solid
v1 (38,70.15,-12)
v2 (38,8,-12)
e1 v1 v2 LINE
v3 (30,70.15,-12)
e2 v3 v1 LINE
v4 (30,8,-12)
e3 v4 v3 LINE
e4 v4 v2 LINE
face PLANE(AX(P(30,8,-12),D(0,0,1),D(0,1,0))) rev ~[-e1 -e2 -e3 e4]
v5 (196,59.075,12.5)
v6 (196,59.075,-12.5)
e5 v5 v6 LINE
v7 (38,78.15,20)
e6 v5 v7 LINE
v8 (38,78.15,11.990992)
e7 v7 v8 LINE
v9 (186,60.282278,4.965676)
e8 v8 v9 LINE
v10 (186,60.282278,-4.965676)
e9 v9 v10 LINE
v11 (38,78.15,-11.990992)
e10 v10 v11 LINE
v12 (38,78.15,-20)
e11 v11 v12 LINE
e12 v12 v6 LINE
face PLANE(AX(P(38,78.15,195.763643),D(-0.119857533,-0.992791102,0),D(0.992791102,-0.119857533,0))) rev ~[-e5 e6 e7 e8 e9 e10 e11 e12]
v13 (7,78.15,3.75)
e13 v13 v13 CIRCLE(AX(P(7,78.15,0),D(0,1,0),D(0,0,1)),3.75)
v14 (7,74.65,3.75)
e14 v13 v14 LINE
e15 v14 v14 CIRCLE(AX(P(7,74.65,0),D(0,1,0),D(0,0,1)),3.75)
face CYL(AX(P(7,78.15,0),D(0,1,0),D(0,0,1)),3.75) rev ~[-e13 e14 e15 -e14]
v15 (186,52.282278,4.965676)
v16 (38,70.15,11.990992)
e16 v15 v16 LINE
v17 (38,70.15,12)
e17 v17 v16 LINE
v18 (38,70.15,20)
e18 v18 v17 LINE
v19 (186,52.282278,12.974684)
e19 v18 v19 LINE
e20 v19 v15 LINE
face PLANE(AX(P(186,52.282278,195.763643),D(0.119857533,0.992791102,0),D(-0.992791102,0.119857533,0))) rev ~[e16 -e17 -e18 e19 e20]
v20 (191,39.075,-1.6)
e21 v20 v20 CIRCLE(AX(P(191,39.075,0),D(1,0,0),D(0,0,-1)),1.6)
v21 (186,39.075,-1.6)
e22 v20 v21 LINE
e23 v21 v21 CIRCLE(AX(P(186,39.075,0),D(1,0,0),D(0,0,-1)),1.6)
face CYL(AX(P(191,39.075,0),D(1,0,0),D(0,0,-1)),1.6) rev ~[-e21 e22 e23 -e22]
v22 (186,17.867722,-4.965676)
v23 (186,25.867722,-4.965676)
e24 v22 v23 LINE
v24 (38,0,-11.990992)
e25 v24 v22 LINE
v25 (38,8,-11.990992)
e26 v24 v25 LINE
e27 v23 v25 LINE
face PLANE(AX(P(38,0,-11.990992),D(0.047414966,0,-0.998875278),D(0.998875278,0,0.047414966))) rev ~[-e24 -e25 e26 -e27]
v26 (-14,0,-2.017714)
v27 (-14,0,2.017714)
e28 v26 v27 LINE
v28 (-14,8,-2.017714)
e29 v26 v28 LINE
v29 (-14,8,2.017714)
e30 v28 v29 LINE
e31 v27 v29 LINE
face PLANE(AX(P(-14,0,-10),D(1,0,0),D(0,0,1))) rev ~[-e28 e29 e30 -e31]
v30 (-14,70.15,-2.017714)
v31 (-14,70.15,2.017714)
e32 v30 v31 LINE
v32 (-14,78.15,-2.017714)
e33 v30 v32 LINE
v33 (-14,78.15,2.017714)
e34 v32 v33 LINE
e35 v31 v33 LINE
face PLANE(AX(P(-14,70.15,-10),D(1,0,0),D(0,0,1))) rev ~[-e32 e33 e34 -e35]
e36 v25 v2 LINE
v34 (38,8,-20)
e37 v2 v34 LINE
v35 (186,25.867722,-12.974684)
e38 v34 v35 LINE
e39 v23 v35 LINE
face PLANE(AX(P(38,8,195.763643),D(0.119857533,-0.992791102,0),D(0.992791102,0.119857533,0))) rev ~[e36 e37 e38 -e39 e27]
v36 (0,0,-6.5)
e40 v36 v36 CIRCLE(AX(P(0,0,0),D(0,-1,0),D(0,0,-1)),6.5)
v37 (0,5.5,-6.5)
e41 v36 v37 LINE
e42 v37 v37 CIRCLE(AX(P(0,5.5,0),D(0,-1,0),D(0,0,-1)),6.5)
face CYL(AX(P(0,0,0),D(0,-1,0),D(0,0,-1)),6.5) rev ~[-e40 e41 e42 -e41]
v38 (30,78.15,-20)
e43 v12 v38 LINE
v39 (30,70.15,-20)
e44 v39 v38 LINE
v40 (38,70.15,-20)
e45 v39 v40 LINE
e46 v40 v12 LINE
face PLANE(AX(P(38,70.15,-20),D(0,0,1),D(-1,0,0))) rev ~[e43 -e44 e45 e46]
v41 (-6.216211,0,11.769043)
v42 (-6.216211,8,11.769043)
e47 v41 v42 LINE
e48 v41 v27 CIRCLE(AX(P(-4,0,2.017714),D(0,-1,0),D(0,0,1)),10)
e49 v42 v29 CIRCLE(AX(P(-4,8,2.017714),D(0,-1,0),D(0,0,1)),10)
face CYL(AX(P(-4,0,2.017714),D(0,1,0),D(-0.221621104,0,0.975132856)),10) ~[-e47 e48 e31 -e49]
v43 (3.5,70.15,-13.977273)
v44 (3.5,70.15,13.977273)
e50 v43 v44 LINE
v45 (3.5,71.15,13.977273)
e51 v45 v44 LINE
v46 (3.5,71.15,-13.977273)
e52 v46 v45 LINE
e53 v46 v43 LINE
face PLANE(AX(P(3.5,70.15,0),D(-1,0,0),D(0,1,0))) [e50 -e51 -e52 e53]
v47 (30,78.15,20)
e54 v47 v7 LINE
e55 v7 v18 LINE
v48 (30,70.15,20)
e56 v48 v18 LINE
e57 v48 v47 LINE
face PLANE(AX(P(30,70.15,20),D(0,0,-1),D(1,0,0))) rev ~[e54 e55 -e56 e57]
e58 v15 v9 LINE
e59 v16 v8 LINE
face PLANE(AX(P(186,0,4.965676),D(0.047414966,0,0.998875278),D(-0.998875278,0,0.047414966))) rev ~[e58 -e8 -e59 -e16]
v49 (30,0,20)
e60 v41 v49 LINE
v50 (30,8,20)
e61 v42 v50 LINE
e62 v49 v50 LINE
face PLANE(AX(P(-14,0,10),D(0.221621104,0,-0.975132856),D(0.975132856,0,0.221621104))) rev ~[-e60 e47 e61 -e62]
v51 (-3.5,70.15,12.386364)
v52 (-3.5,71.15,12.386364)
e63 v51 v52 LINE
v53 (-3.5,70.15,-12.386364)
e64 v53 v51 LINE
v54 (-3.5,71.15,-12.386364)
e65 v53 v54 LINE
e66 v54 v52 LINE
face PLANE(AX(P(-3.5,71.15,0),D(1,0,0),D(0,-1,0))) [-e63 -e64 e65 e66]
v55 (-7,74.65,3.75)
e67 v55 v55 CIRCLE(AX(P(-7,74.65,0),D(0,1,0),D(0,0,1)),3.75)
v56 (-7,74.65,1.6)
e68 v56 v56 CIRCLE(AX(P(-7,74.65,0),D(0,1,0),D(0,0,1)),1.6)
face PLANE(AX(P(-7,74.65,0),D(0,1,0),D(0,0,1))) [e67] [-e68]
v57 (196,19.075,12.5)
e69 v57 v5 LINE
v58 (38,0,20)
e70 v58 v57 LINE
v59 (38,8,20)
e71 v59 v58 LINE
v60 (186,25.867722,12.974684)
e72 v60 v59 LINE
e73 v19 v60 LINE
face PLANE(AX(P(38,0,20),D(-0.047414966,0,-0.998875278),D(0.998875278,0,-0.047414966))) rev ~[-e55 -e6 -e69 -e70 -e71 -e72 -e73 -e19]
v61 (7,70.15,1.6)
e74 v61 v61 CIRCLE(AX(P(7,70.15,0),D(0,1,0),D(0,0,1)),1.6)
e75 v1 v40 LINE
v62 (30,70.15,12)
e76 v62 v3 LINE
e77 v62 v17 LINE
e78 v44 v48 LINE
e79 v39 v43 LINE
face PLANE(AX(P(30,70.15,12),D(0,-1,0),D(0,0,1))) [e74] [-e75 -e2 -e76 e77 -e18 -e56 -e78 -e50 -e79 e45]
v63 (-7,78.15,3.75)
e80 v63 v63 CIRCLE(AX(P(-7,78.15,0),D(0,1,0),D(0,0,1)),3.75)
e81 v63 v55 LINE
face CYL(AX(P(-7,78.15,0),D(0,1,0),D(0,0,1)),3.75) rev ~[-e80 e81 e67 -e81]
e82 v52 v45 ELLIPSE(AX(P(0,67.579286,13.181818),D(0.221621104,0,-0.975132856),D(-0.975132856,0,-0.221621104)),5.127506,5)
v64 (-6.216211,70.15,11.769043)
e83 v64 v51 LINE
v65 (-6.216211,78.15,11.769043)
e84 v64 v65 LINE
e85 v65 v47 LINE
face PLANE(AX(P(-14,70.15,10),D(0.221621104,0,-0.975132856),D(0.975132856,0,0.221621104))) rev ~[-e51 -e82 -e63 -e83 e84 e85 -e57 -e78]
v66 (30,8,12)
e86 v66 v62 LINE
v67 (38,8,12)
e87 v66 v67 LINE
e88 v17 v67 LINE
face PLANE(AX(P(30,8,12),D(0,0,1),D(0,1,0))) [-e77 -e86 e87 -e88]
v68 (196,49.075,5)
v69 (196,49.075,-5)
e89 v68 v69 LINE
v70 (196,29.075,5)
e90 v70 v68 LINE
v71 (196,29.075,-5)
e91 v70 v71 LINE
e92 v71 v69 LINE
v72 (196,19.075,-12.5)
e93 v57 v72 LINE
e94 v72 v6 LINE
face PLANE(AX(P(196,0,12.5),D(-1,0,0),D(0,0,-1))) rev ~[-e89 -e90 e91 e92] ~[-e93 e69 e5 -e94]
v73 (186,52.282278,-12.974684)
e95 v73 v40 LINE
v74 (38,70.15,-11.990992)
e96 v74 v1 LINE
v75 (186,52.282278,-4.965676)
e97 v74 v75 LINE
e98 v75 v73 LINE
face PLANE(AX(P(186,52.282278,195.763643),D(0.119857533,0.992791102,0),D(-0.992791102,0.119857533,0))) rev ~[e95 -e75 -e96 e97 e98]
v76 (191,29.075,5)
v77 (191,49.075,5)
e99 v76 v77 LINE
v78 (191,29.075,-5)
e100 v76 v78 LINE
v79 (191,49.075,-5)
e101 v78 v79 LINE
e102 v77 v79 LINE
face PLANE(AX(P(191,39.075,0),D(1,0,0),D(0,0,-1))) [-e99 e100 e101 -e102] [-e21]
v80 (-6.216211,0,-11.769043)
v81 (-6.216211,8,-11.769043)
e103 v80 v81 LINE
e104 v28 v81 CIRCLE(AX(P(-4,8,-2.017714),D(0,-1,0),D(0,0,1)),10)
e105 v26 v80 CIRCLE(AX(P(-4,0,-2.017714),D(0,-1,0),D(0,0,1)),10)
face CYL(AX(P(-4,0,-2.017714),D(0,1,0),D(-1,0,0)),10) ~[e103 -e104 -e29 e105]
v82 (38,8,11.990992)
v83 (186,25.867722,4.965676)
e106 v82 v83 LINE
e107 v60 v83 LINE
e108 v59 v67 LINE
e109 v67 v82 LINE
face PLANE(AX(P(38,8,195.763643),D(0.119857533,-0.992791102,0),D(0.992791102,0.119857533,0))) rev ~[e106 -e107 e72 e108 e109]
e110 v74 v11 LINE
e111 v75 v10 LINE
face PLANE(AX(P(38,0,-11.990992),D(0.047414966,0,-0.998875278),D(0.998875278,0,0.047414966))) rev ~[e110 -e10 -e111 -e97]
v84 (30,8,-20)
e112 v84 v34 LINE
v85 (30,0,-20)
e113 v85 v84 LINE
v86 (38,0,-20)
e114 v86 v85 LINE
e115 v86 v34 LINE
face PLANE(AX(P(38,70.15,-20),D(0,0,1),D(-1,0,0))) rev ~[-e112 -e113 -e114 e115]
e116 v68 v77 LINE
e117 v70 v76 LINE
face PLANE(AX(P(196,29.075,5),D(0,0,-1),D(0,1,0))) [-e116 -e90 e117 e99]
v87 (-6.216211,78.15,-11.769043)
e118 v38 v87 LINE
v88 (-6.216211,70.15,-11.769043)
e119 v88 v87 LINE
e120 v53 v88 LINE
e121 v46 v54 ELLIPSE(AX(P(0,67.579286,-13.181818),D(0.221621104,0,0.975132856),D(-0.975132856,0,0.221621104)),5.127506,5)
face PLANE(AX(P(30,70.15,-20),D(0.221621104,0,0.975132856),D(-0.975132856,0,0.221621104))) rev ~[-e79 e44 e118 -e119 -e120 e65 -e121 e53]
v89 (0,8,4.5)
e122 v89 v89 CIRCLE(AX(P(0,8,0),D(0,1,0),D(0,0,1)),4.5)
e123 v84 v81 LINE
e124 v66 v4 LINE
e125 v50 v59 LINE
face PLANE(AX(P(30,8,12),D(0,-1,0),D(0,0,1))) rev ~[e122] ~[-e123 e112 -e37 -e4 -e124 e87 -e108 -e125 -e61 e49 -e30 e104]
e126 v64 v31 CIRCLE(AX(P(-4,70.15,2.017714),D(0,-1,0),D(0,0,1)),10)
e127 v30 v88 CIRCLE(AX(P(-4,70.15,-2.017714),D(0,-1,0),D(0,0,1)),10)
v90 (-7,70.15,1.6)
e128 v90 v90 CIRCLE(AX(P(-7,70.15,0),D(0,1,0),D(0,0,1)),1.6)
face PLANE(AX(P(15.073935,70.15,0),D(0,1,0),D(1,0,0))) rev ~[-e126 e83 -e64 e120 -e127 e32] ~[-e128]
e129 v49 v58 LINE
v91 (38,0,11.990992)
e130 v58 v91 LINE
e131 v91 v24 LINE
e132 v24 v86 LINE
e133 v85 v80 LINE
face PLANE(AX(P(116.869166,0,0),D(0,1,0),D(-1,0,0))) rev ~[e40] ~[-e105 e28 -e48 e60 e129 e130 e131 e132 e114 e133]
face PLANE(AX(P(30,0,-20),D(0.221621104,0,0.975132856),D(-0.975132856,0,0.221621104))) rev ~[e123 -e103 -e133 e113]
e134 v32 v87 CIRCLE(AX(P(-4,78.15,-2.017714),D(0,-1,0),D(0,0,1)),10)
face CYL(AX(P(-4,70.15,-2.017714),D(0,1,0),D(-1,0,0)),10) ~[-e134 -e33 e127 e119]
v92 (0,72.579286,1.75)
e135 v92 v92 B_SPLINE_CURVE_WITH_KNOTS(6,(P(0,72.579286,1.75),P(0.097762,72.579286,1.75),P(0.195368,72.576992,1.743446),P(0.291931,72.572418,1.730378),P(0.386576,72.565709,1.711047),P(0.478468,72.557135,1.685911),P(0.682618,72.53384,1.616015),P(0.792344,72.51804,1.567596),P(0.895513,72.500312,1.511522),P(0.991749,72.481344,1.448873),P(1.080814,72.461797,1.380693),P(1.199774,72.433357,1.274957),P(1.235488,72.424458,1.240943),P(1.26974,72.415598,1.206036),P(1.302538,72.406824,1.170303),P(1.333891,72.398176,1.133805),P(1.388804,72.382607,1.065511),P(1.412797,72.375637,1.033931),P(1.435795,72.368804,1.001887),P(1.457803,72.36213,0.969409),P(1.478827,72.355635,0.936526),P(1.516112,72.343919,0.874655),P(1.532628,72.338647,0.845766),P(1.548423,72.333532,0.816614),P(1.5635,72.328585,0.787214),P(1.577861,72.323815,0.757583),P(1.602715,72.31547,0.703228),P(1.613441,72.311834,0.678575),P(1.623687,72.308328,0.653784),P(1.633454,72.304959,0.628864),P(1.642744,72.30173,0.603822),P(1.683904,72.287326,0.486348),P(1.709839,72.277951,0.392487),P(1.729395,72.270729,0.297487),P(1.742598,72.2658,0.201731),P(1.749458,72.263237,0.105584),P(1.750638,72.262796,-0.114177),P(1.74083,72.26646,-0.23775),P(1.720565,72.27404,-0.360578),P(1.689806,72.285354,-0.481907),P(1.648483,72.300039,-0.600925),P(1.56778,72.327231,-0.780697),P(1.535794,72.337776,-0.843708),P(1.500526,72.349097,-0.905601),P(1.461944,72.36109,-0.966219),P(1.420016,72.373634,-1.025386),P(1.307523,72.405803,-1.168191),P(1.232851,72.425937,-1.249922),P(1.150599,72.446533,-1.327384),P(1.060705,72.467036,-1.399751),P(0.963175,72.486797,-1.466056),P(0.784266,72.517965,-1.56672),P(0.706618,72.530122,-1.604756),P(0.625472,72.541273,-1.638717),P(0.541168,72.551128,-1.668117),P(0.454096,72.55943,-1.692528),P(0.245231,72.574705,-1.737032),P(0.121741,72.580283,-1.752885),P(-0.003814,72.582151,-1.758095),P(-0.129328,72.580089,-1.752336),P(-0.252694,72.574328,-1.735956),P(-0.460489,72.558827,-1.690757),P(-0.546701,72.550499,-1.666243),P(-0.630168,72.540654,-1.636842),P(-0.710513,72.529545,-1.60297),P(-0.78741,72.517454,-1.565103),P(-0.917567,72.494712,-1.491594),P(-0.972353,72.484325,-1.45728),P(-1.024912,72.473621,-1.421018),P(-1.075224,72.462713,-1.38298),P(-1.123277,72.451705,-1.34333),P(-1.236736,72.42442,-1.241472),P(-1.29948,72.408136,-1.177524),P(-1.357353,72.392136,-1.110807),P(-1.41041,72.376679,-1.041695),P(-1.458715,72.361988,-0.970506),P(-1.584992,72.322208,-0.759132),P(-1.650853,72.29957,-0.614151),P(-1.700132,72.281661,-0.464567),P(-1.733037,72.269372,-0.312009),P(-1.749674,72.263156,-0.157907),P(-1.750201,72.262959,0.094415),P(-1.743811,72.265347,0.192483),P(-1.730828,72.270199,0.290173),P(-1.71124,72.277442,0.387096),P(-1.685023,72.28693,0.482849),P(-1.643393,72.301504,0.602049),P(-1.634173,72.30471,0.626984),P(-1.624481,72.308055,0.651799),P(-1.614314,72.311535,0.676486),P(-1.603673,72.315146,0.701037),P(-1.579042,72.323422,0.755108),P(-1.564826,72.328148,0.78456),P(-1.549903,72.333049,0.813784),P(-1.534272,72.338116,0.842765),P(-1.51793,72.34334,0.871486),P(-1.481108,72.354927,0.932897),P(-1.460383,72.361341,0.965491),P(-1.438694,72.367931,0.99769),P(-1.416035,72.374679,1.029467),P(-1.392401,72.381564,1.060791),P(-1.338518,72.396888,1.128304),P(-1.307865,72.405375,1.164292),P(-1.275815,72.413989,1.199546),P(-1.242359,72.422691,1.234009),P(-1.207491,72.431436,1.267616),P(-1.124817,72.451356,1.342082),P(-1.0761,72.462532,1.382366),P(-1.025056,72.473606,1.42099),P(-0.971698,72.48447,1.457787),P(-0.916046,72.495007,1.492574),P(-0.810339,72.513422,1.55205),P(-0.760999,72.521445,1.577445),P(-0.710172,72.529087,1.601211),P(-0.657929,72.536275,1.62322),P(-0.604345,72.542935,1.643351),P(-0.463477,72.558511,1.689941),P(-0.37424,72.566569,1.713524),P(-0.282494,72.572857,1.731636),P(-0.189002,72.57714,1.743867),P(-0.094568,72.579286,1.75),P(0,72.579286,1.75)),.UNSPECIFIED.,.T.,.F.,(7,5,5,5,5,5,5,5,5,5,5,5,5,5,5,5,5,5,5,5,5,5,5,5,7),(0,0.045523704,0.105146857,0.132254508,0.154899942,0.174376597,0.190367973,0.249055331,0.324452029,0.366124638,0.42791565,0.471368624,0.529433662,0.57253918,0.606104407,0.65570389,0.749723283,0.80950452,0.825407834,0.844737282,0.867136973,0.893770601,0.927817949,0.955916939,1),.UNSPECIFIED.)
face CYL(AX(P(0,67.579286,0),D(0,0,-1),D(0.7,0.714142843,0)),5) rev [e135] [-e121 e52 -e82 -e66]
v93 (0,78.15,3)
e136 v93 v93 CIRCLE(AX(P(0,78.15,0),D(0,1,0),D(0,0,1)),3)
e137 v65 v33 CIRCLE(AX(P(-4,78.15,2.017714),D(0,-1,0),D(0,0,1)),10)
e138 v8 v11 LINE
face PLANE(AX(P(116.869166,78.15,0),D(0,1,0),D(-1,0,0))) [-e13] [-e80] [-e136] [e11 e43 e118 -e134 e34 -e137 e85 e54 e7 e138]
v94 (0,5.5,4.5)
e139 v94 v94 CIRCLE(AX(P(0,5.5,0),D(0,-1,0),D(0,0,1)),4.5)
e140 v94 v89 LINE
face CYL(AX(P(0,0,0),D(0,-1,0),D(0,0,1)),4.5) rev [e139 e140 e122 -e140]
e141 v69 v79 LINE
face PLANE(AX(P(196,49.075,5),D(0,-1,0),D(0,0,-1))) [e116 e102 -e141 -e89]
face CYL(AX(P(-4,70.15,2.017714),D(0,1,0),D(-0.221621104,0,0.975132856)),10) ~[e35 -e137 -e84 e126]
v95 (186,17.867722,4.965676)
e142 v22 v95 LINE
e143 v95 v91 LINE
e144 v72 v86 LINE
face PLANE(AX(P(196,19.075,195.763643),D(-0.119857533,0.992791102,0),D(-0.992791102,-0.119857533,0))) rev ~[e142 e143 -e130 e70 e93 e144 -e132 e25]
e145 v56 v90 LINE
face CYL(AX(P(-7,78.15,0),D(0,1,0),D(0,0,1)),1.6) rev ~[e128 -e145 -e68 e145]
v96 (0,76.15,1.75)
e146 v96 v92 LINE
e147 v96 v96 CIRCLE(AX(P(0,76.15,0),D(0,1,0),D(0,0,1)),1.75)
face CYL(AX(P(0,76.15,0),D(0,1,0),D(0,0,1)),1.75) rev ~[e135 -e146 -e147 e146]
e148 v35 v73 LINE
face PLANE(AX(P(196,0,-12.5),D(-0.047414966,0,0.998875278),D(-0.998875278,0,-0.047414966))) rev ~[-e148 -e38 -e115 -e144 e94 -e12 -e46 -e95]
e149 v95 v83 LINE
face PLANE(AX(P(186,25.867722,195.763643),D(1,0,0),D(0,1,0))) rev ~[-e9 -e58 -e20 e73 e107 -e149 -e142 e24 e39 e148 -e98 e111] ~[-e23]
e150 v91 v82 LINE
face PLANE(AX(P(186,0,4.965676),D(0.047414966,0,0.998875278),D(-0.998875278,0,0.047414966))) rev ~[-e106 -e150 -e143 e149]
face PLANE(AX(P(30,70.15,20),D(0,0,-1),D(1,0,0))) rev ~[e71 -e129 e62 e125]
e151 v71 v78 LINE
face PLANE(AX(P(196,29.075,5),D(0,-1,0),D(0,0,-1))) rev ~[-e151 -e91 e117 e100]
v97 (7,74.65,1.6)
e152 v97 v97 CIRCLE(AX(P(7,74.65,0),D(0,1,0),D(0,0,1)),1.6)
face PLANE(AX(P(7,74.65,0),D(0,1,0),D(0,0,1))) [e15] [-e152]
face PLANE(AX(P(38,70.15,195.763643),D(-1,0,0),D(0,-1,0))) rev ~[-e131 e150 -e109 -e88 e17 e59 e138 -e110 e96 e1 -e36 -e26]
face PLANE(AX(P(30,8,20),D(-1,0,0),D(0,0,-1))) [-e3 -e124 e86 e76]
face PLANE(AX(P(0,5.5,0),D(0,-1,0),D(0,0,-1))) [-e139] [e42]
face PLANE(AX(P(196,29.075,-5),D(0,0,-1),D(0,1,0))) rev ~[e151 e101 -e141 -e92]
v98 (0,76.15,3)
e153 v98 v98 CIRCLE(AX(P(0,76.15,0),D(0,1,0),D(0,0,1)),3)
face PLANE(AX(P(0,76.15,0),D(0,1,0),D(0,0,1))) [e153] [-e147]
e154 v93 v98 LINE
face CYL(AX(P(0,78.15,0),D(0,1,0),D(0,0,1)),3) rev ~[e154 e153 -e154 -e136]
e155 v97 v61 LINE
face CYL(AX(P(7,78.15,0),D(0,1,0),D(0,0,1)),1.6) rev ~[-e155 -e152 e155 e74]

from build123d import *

# Parameters (mm, degrees)
SZKIC1_R                               = 4.5
DODANIE_WYCI_GNI_CIE1_DEPTH            = 8
SZKIC23_R                              = 6.5
WYTNIJ_WYCI_GNI_CIE11_DEPTH            = 5.5
SZKIC4_W                               = 8
SZKIC4_H                               = 40
DODANIE_WYCI_GNI_CIE2_DEPTH            = 62.15
DODANIE_WYCI_GNI_CIE3_DEPTH            = 8
WYTNIJ_WYCI_GNI_CIE3_REACH             = 91.171
SZKIC6_R                               = 1.6
SZKIC7_R                               = 3.75
WYTNIJ_WYCI_GNI_CIE4_DEPTH             = 3.5
WYTNIJ_WYCI_GNI_CIE5_REACH             = 97.976
WYTNIJ_WYCI_GNI_CIE5_DIRECTION_2_REACH = 97.976
SZKIC10_R                              = 3
WYTNIJ_WYCI_GNI_CIE6_DEPTH             = 2
WYTNIJ_WYCI_GNI_CIE7_REACH             = 93.888
SZKIC14_W                              = 8
SZKIC14_H                              = 62.15
DODANIE_WYCI_GNI_CIE5_DEPTH            = 78.15
WYTNIJ_WYCI_GNI_CIE9_DEPTH             = 215.763643338
WYTNIJ_WYCI_GNI_CIE9_DEPTH_BACK        = 215.763643338
SZKIC20_W                              = 10
SZKIC20_H                              = 20
WYTNIJ_WYCI_GNI_CIE10_DEPTH            = 5
ZAOKR_GLENIE1_R                        = 10
WYTNIJ_WYCI_GNI_CIE12_REACH            = 213.222
WYTNIJ_WYCI_GNI_CIE12_END_RADIUS       = 5
SZKIC24_R                              = 1.75
WYTNIJ_WYCI_GNI_CIE13_REACH            = 222.301
SZKIC25_R                              = 1.6


with BuildPart() as part:
    # Szkic1 → Dodanie-wyciągnięcie1 (new body)
    with BuildSketch(Plane(origin=(0, 0, 0), x_dir=(1, 0, 0), z_dir=(0, 1, 0))):
        Polygon((-14, -10), (30, -20), (38, -20), (38, 20), (30, 20), (-14, 10), align=None)
        with Locations(Location((0, 0, 0), (0, 0, 270))):
            Circle(SZKIC1_R, mode=Mode.SUBTRACT)
    extrude(amount=DODANIE_WYCI_GNI_CIE1_DEPTH)

    # Szkic23 → Wytnij-wyciągnięcie11 (cut)
    with BuildSketch(Plane.XZ):
        with Locations(Location((0, 0, 0), (0, 0, 270))):
            Circle(SZKIC23_R)
    extrude(amount=-WYTNIJ_WYCI_GNI_CIE11_DEPTH, mode=Mode.SUBTRACT)

    # Szkic4 → Dodanie-wyciągnięcie2 (add)
    with BuildSketch(Plane(origin=(0, 8, 0), x_dir=(1, 0, 0), z_dir=(0, 1, 0))):
        with Locations((34, 0)):
            Rectangle(SZKIC4_W, SZKIC4_H)
    extrude(amount=DODANIE_WYCI_GNI_CIE2_DEPTH)

    # Szkic5 → Dodanie-wyciągnięcie3 (add)
    with BuildSketch(Plane(origin=(0, 70.15, 0), x_dir=(1, 0, 0), z_dir=(0, 1, 0))):
        Polygon((38, -20), (38, 20), (30, 20), (-14, 10), (-14, -10), (30, -20), align=None)
    extrude(amount=DODANIE_WYCI_GNI_CIE3_DEPTH)

    # Szkic6 → Wytnij-wyciągnięcie3 (cut, up to next)
    with BuildSketch(Plane(origin=(0, 78.15, 0), x_dir=(1, 0, 0), z_dir=(0, 1, 0)), mode=Mode.PRIVATE) as wytnij_wyci_gni_cie3_sk1:
        with Locations(Location((-7, 0, 0), (0, 0, 270))):
            Circle(SZKIC6_R)
    wytnij_wyci_gni_cie3_tool1 = extrude(wytnij_wyci_gni_cie3_sk1.sketch, amount=-WYTNIJ_WYCI_GNI_CIE3_REACH, mode=Mode.PRIVATE) & part.part
    # Szkic6 → Wytnij-wyciągnięcie3 (cut, up to next)
    with BuildSketch(Plane(origin=(0, 78.15, 0), x_dir=(1, 0, 0), z_dir=(0, 1, 0)), mode=Mode.PRIVATE) as wytnij_wyci_gni_cie3_sk2:
        with Locations(Location((7, 0, 0), (0, 0, 270))):
            Circle(SZKIC6_R)
    wytnij_wyci_gni_cie3_tool2 = extrude(wytnij_wyci_gni_cie3_sk2.sketch, amount=-WYTNIJ_WYCI_GNI_CIE3_REACH, mode=Mode.PRIVATE) & part.part
    add(wytnij_wyci_gni_cie3_tool1.solids().sort_by_distance((-7, 78.15, 0))[0], mode=Mode.SUBTRACT)
    add(wytnij_wyci_gni_cie3_tool2.solids().sort_by_distance((7, 78.15, 0))[0], mode=Mode.SUBTRACT)

    # Szkic7 → Wytnij-wyciągnięcie4 (cut)
    with BuildSketch(Plane(origin=(0, 78.15, 0), x_dir=(1, 0, 0), z_dir=(0, 1, 0))):
        with Locations(Location((7, 0, 0), (0, 0, 270))):
            Circle(SZKIC7_R)
        with Locations(Location((-7, 0, 0), (0, 0, 270))):
            Circle(SZKIC7_R)
    extrude(amount=-WYTNIJ_WYCI_GNI_CIE4_DEPTH, mode=Mode.SUBTRACT)

    # Wytnij-wyciągnięcie5: up to this plane
    wytnij_wyci_gni_cie5_end = Plane(origin=(30, 78.15, -20), z_dir=(0.22162110358896817, 0, 0.9751328557914598))
    # Szkic9 → Wytnij-wyciągnięcie5 (cut, up to the surface)
    with BuildSketch(Plane(origin=(-14, 0, 0), x_dir=(1, 0, 0), z_dir=(0, 0, 1)), mode=Mode.PRIVATE) as wytnij_wyci_gni_cie5_sk1:
        with BuildLine():
            Line((10.5, 70.15), (17.5, 70.15))
            Line((17.5, 70.15), (17.5, 71.15))
            ThreePointArc((17.5, 71.15), (14, 72.579285786), (10.5, 71.15))
            Line((10.5, 71.15), (10.5, 70.15))
        make_face()
    wytnij_wyci_gni_cie5_tool1 = split(extrude(wytnij_wyci_gni_cie5_sk1.sketch, amount=-WYTNIJ_WYCI_GNI_CIE5_REACH, mode=Mode.PRIVATE), bisect_by=wytnij_wyci_gni_cie5_end, keep=Keep.BOTH, mode=Mode.PRIVATE)
    add(wytnij_wyci_gni_cie5_tool1.solids().sort_by_distance((0, 71.185303, 0))[0], mode=Mode.SUBTRACT)

    # Wytnij-wyciągnięcie5 direction 2: up to this plane
    wytnij_wyci_gni_cie5_direction_2_end = Plane(origin=(-14, 78.15, 10), z_dir=(0.22162110358896792, 0, -0.9751328557914598))
    # Szkic9 → Wytnij-wyciągnięcie5 direction 2 (cut, up to the surface)
    with BuildSketch(Plane(origin=(-14, 0, 0), x_dir=(1, 0, 0), z_dir=(0, 0, 1)), mode=Mode.PRIVATE) as wytnij_wyci_gni_cie5_direction_2_sk1:
        with BuildLine():
            Line((10.5, 70.15), (17.5, 70.15))
            Line((17.5, 70.15), (17.5, 71.15))
            ThreePointArc((17.5, 71.15), (14, 72.579285786), (10.5, 71.15))
            Line((10.5, 71.15), (10.5, 70.15))
        make_face()
    wytnij_wyci_gni_cie5_direction_2_tool1 = split(extrude(wytnij_wyci_gni_cie5_direction_2_sk1.sketch, amount=WYTNIJ_WYCI_GNI_CIE5_DIRECTION_2_REACH, mode=Mode.PRIVATE), bisect_by=wytnij_wyci_gni_cie5_direction_2_end, keep=Keep.BOTH, mode=Mode.PRIVATE)
    add(wytnij_wyci_gni_cie5_direction_2_tool1.solids().sort_by_distance((0, 71.185303, 0))[0], mode=Mode.SUBTRACT)

    # Szkic10 → Wytnij-wyciągnięcie6 (cut)
    with BuildSketch(Plane(origin=(0, 78.15, 0), x_dir=(1, 0, 0), z_dir=(0, 1, 0))):
        with Locations(Location((0, 0, 0), (0, 0, 270))):
            Circle(SZKIC10_R)
    extrude(amount=-WYTNIJ_WYCI_GNI_CIE6_DEPTH, mode=Mode.SUBTRACT)

    # Szkic14 → Wytnij-wyciągnięcie7 (cut, up to next)
    with BuildSketch(Plane.ZY.offset(-30), mode=Mode.PRIVATE) as wytnij_wyci_gni_cie7_sk1:
        with Locations((-16, 39.075)):
            Rectangle(SZKIC14_W, SZKIC14_H)
    wytnij_wyci_gni_cie7_tool1 = extrude(wytnij_wyci_gni_cie7_sk1.sketch, amount=-WYTNIJ_WYCI_GNI_CIE7_REACH, mode=Mode.PRIVATE) & part.part
    # Szkic14 → Wytnij-wyciągnięcie7 (cut, up to next)
    with BuildSketch(Plane.ZY.offset(-30), mode=Mode.PRIVATE) as wytnij_wyci_gni_cie7_sk2:
        with Locations((16, 39.075)):
            Rectangle(SZKIC14_W, SZKIC14_H)
    wytnij_wyci_gni_cie7_tool2 = extrude(wytnij_wyci_gni_cie7_sk2.sketch, amount=-WYTNIJ_WYCI_GNI_CIE7_REACH, mode=Mode.PRIVATE) & part.part
    add(wytnij_wyci_gni_cie7_tool1.solids().sort_by_distance((30, 39.075, -16))[0], mode=Mode.SUBTRACT)
    add(wytnij_wyci_gni_cie7_tool2.solids().sort_by_distance((30, 39.075, 16))[0], mode=Mode.SUBTRACT)

    # Szkic17 → Dodanie-wyciągnięcie5 (add, through all)
    with BuildSketch(Plane.XZ):
        Polygon((38, 20), (196, 12.5), (196, -12.5), (38, -20), (38, -11.990992093), (186, -4.965675637), (186, 4.965675637), (38, 11.990992093), align=None)
    extrude(amount=-DODANIE_WYCI_GNI_CIE5_DEPTH)

    # Szkic18 → Wytnij-wyciągnięcie9 (cut, two sides: drawn at the far end of the back side and taken through both)
    with BuildSketch(Plane(origin=(0, 0, -20), x_dir=(-1, 0, 0), z_dir=(0, 0, -1)).offset(-WYTNIJ_WYCI_GNI_CIE9_DEPTH_BACK)):
        Polygon((-196, 0), (-196, 19.075), (-38, 0), align=None)
        Polygon((-196, 59.075), (-196, 78.15), (-38, 78.15), align=None)
        Polygon((-38, 8), (-186, 25.867721519), (-186, 52.282278481), (-38, 70.15), align=None)
    extrude(amount=WYTNIJ_WYCI_GNI_CIE9_DEPTH + WYTNIJ_WYCI_GNI_CIE9_DEPTH_BACK, mode=Mode.SUBTRACT)

    # Szkic20 → Wytnij-wyciągnięcie10 (cut)
    with BuildSketch(Plane(origin=(196, 0, 0), x_dir=(0, 0, -1), z_dir=(1, 0, 0))):
        with Locations((0, 39.075)):
            Rectangle(SZKIC20_W, SZKIC20_H)
    extrude(amount=-WYTNIJ_WYCI_GNI_CIE10_DEPTH, mode=Mode.SUBTRACT)

    # Zaokrąglenie1
    zaokr_glenie1_edges = [part.edges().sort_by_distance(p)[0] for p in [
        (-14, 4, 10),
        (-14, 4, -10),
        (-14, 74.15, -10),
        (-14, 74.15, 10),
    ]]
    fillet(zaokr_glenie1_edges, radius=ZAOKR_GLENIE1_R)

    # Wytnij-wyciągnięcie12: up to this cylinder (the profile starts outside it)
    wytnij_wyci_gni_cie12_end = Plane(origin=(0, 67.579285786, 0), z_dir=(0, 0, -1)) * Cylinder(WYTNIJ_WYCI_GNI_CIE12_END_RADIUS, 437.444, mode=Mode.PRIVATE)
    # Szkic24 → Wytnij-wyciągnięcie12 (cut, up to the surface)
    with BuildSketch(Plane(origin=(0, 76.15, 0), x_dir=(1, 0, 0), z_dir=(0, 1, 0)), mode=Mode.PRIVATE) as wytnij_wyci_gni_cie12_sk1:
        with Locations(Location((0, 0, 0), (0, 0, 270))):
            Circle(SZKIC24_R)
    wytnij_wyci_gni_cie12_tool1 = extrude(wytnij_wyci_gni_cie12_sk1.sketch, amount=-WYTNIJ_WYCI_GNI_CIE12_REACH, mode=Mode.PRIVATE) - wytnij_wyci_gni_cie12_end
    add(wytnij_wyci_gni_cie12_tool1.solids().sort_by_distance((0, 76.15, 0))[0], mode=Mode.SUBTRACT)

    # Szkic25 → Wytnij-wyciągnięcie13 (cut, up to next)
    with BuildSketch(Plane(origin=(191, 0, 0), x_dir=(0, 0, -1), z_dir=(1, 0, 0)), mode=Mode.PRIVATE) as wytnij_wyci_gni_cie13_sk1:
        with Locations((0, 39.075)):
            Circle(SZKIC25_R)
    wytnij_wyci_gni_cie13_tool1 = extrude(wytnij_wyci_gni_cie13_sk1.sketch, amount=-WYTNIJ_WYCI_GNI_CIE13_REACH, mode=Mode.PRIVATE) & part.part
    add(wytnij_wyci_gni_cie13_tool1.solids().sort_by_distance((191, 39.075, 0))[0], mode=Mode.SUBTRACT)


solid = part.part
